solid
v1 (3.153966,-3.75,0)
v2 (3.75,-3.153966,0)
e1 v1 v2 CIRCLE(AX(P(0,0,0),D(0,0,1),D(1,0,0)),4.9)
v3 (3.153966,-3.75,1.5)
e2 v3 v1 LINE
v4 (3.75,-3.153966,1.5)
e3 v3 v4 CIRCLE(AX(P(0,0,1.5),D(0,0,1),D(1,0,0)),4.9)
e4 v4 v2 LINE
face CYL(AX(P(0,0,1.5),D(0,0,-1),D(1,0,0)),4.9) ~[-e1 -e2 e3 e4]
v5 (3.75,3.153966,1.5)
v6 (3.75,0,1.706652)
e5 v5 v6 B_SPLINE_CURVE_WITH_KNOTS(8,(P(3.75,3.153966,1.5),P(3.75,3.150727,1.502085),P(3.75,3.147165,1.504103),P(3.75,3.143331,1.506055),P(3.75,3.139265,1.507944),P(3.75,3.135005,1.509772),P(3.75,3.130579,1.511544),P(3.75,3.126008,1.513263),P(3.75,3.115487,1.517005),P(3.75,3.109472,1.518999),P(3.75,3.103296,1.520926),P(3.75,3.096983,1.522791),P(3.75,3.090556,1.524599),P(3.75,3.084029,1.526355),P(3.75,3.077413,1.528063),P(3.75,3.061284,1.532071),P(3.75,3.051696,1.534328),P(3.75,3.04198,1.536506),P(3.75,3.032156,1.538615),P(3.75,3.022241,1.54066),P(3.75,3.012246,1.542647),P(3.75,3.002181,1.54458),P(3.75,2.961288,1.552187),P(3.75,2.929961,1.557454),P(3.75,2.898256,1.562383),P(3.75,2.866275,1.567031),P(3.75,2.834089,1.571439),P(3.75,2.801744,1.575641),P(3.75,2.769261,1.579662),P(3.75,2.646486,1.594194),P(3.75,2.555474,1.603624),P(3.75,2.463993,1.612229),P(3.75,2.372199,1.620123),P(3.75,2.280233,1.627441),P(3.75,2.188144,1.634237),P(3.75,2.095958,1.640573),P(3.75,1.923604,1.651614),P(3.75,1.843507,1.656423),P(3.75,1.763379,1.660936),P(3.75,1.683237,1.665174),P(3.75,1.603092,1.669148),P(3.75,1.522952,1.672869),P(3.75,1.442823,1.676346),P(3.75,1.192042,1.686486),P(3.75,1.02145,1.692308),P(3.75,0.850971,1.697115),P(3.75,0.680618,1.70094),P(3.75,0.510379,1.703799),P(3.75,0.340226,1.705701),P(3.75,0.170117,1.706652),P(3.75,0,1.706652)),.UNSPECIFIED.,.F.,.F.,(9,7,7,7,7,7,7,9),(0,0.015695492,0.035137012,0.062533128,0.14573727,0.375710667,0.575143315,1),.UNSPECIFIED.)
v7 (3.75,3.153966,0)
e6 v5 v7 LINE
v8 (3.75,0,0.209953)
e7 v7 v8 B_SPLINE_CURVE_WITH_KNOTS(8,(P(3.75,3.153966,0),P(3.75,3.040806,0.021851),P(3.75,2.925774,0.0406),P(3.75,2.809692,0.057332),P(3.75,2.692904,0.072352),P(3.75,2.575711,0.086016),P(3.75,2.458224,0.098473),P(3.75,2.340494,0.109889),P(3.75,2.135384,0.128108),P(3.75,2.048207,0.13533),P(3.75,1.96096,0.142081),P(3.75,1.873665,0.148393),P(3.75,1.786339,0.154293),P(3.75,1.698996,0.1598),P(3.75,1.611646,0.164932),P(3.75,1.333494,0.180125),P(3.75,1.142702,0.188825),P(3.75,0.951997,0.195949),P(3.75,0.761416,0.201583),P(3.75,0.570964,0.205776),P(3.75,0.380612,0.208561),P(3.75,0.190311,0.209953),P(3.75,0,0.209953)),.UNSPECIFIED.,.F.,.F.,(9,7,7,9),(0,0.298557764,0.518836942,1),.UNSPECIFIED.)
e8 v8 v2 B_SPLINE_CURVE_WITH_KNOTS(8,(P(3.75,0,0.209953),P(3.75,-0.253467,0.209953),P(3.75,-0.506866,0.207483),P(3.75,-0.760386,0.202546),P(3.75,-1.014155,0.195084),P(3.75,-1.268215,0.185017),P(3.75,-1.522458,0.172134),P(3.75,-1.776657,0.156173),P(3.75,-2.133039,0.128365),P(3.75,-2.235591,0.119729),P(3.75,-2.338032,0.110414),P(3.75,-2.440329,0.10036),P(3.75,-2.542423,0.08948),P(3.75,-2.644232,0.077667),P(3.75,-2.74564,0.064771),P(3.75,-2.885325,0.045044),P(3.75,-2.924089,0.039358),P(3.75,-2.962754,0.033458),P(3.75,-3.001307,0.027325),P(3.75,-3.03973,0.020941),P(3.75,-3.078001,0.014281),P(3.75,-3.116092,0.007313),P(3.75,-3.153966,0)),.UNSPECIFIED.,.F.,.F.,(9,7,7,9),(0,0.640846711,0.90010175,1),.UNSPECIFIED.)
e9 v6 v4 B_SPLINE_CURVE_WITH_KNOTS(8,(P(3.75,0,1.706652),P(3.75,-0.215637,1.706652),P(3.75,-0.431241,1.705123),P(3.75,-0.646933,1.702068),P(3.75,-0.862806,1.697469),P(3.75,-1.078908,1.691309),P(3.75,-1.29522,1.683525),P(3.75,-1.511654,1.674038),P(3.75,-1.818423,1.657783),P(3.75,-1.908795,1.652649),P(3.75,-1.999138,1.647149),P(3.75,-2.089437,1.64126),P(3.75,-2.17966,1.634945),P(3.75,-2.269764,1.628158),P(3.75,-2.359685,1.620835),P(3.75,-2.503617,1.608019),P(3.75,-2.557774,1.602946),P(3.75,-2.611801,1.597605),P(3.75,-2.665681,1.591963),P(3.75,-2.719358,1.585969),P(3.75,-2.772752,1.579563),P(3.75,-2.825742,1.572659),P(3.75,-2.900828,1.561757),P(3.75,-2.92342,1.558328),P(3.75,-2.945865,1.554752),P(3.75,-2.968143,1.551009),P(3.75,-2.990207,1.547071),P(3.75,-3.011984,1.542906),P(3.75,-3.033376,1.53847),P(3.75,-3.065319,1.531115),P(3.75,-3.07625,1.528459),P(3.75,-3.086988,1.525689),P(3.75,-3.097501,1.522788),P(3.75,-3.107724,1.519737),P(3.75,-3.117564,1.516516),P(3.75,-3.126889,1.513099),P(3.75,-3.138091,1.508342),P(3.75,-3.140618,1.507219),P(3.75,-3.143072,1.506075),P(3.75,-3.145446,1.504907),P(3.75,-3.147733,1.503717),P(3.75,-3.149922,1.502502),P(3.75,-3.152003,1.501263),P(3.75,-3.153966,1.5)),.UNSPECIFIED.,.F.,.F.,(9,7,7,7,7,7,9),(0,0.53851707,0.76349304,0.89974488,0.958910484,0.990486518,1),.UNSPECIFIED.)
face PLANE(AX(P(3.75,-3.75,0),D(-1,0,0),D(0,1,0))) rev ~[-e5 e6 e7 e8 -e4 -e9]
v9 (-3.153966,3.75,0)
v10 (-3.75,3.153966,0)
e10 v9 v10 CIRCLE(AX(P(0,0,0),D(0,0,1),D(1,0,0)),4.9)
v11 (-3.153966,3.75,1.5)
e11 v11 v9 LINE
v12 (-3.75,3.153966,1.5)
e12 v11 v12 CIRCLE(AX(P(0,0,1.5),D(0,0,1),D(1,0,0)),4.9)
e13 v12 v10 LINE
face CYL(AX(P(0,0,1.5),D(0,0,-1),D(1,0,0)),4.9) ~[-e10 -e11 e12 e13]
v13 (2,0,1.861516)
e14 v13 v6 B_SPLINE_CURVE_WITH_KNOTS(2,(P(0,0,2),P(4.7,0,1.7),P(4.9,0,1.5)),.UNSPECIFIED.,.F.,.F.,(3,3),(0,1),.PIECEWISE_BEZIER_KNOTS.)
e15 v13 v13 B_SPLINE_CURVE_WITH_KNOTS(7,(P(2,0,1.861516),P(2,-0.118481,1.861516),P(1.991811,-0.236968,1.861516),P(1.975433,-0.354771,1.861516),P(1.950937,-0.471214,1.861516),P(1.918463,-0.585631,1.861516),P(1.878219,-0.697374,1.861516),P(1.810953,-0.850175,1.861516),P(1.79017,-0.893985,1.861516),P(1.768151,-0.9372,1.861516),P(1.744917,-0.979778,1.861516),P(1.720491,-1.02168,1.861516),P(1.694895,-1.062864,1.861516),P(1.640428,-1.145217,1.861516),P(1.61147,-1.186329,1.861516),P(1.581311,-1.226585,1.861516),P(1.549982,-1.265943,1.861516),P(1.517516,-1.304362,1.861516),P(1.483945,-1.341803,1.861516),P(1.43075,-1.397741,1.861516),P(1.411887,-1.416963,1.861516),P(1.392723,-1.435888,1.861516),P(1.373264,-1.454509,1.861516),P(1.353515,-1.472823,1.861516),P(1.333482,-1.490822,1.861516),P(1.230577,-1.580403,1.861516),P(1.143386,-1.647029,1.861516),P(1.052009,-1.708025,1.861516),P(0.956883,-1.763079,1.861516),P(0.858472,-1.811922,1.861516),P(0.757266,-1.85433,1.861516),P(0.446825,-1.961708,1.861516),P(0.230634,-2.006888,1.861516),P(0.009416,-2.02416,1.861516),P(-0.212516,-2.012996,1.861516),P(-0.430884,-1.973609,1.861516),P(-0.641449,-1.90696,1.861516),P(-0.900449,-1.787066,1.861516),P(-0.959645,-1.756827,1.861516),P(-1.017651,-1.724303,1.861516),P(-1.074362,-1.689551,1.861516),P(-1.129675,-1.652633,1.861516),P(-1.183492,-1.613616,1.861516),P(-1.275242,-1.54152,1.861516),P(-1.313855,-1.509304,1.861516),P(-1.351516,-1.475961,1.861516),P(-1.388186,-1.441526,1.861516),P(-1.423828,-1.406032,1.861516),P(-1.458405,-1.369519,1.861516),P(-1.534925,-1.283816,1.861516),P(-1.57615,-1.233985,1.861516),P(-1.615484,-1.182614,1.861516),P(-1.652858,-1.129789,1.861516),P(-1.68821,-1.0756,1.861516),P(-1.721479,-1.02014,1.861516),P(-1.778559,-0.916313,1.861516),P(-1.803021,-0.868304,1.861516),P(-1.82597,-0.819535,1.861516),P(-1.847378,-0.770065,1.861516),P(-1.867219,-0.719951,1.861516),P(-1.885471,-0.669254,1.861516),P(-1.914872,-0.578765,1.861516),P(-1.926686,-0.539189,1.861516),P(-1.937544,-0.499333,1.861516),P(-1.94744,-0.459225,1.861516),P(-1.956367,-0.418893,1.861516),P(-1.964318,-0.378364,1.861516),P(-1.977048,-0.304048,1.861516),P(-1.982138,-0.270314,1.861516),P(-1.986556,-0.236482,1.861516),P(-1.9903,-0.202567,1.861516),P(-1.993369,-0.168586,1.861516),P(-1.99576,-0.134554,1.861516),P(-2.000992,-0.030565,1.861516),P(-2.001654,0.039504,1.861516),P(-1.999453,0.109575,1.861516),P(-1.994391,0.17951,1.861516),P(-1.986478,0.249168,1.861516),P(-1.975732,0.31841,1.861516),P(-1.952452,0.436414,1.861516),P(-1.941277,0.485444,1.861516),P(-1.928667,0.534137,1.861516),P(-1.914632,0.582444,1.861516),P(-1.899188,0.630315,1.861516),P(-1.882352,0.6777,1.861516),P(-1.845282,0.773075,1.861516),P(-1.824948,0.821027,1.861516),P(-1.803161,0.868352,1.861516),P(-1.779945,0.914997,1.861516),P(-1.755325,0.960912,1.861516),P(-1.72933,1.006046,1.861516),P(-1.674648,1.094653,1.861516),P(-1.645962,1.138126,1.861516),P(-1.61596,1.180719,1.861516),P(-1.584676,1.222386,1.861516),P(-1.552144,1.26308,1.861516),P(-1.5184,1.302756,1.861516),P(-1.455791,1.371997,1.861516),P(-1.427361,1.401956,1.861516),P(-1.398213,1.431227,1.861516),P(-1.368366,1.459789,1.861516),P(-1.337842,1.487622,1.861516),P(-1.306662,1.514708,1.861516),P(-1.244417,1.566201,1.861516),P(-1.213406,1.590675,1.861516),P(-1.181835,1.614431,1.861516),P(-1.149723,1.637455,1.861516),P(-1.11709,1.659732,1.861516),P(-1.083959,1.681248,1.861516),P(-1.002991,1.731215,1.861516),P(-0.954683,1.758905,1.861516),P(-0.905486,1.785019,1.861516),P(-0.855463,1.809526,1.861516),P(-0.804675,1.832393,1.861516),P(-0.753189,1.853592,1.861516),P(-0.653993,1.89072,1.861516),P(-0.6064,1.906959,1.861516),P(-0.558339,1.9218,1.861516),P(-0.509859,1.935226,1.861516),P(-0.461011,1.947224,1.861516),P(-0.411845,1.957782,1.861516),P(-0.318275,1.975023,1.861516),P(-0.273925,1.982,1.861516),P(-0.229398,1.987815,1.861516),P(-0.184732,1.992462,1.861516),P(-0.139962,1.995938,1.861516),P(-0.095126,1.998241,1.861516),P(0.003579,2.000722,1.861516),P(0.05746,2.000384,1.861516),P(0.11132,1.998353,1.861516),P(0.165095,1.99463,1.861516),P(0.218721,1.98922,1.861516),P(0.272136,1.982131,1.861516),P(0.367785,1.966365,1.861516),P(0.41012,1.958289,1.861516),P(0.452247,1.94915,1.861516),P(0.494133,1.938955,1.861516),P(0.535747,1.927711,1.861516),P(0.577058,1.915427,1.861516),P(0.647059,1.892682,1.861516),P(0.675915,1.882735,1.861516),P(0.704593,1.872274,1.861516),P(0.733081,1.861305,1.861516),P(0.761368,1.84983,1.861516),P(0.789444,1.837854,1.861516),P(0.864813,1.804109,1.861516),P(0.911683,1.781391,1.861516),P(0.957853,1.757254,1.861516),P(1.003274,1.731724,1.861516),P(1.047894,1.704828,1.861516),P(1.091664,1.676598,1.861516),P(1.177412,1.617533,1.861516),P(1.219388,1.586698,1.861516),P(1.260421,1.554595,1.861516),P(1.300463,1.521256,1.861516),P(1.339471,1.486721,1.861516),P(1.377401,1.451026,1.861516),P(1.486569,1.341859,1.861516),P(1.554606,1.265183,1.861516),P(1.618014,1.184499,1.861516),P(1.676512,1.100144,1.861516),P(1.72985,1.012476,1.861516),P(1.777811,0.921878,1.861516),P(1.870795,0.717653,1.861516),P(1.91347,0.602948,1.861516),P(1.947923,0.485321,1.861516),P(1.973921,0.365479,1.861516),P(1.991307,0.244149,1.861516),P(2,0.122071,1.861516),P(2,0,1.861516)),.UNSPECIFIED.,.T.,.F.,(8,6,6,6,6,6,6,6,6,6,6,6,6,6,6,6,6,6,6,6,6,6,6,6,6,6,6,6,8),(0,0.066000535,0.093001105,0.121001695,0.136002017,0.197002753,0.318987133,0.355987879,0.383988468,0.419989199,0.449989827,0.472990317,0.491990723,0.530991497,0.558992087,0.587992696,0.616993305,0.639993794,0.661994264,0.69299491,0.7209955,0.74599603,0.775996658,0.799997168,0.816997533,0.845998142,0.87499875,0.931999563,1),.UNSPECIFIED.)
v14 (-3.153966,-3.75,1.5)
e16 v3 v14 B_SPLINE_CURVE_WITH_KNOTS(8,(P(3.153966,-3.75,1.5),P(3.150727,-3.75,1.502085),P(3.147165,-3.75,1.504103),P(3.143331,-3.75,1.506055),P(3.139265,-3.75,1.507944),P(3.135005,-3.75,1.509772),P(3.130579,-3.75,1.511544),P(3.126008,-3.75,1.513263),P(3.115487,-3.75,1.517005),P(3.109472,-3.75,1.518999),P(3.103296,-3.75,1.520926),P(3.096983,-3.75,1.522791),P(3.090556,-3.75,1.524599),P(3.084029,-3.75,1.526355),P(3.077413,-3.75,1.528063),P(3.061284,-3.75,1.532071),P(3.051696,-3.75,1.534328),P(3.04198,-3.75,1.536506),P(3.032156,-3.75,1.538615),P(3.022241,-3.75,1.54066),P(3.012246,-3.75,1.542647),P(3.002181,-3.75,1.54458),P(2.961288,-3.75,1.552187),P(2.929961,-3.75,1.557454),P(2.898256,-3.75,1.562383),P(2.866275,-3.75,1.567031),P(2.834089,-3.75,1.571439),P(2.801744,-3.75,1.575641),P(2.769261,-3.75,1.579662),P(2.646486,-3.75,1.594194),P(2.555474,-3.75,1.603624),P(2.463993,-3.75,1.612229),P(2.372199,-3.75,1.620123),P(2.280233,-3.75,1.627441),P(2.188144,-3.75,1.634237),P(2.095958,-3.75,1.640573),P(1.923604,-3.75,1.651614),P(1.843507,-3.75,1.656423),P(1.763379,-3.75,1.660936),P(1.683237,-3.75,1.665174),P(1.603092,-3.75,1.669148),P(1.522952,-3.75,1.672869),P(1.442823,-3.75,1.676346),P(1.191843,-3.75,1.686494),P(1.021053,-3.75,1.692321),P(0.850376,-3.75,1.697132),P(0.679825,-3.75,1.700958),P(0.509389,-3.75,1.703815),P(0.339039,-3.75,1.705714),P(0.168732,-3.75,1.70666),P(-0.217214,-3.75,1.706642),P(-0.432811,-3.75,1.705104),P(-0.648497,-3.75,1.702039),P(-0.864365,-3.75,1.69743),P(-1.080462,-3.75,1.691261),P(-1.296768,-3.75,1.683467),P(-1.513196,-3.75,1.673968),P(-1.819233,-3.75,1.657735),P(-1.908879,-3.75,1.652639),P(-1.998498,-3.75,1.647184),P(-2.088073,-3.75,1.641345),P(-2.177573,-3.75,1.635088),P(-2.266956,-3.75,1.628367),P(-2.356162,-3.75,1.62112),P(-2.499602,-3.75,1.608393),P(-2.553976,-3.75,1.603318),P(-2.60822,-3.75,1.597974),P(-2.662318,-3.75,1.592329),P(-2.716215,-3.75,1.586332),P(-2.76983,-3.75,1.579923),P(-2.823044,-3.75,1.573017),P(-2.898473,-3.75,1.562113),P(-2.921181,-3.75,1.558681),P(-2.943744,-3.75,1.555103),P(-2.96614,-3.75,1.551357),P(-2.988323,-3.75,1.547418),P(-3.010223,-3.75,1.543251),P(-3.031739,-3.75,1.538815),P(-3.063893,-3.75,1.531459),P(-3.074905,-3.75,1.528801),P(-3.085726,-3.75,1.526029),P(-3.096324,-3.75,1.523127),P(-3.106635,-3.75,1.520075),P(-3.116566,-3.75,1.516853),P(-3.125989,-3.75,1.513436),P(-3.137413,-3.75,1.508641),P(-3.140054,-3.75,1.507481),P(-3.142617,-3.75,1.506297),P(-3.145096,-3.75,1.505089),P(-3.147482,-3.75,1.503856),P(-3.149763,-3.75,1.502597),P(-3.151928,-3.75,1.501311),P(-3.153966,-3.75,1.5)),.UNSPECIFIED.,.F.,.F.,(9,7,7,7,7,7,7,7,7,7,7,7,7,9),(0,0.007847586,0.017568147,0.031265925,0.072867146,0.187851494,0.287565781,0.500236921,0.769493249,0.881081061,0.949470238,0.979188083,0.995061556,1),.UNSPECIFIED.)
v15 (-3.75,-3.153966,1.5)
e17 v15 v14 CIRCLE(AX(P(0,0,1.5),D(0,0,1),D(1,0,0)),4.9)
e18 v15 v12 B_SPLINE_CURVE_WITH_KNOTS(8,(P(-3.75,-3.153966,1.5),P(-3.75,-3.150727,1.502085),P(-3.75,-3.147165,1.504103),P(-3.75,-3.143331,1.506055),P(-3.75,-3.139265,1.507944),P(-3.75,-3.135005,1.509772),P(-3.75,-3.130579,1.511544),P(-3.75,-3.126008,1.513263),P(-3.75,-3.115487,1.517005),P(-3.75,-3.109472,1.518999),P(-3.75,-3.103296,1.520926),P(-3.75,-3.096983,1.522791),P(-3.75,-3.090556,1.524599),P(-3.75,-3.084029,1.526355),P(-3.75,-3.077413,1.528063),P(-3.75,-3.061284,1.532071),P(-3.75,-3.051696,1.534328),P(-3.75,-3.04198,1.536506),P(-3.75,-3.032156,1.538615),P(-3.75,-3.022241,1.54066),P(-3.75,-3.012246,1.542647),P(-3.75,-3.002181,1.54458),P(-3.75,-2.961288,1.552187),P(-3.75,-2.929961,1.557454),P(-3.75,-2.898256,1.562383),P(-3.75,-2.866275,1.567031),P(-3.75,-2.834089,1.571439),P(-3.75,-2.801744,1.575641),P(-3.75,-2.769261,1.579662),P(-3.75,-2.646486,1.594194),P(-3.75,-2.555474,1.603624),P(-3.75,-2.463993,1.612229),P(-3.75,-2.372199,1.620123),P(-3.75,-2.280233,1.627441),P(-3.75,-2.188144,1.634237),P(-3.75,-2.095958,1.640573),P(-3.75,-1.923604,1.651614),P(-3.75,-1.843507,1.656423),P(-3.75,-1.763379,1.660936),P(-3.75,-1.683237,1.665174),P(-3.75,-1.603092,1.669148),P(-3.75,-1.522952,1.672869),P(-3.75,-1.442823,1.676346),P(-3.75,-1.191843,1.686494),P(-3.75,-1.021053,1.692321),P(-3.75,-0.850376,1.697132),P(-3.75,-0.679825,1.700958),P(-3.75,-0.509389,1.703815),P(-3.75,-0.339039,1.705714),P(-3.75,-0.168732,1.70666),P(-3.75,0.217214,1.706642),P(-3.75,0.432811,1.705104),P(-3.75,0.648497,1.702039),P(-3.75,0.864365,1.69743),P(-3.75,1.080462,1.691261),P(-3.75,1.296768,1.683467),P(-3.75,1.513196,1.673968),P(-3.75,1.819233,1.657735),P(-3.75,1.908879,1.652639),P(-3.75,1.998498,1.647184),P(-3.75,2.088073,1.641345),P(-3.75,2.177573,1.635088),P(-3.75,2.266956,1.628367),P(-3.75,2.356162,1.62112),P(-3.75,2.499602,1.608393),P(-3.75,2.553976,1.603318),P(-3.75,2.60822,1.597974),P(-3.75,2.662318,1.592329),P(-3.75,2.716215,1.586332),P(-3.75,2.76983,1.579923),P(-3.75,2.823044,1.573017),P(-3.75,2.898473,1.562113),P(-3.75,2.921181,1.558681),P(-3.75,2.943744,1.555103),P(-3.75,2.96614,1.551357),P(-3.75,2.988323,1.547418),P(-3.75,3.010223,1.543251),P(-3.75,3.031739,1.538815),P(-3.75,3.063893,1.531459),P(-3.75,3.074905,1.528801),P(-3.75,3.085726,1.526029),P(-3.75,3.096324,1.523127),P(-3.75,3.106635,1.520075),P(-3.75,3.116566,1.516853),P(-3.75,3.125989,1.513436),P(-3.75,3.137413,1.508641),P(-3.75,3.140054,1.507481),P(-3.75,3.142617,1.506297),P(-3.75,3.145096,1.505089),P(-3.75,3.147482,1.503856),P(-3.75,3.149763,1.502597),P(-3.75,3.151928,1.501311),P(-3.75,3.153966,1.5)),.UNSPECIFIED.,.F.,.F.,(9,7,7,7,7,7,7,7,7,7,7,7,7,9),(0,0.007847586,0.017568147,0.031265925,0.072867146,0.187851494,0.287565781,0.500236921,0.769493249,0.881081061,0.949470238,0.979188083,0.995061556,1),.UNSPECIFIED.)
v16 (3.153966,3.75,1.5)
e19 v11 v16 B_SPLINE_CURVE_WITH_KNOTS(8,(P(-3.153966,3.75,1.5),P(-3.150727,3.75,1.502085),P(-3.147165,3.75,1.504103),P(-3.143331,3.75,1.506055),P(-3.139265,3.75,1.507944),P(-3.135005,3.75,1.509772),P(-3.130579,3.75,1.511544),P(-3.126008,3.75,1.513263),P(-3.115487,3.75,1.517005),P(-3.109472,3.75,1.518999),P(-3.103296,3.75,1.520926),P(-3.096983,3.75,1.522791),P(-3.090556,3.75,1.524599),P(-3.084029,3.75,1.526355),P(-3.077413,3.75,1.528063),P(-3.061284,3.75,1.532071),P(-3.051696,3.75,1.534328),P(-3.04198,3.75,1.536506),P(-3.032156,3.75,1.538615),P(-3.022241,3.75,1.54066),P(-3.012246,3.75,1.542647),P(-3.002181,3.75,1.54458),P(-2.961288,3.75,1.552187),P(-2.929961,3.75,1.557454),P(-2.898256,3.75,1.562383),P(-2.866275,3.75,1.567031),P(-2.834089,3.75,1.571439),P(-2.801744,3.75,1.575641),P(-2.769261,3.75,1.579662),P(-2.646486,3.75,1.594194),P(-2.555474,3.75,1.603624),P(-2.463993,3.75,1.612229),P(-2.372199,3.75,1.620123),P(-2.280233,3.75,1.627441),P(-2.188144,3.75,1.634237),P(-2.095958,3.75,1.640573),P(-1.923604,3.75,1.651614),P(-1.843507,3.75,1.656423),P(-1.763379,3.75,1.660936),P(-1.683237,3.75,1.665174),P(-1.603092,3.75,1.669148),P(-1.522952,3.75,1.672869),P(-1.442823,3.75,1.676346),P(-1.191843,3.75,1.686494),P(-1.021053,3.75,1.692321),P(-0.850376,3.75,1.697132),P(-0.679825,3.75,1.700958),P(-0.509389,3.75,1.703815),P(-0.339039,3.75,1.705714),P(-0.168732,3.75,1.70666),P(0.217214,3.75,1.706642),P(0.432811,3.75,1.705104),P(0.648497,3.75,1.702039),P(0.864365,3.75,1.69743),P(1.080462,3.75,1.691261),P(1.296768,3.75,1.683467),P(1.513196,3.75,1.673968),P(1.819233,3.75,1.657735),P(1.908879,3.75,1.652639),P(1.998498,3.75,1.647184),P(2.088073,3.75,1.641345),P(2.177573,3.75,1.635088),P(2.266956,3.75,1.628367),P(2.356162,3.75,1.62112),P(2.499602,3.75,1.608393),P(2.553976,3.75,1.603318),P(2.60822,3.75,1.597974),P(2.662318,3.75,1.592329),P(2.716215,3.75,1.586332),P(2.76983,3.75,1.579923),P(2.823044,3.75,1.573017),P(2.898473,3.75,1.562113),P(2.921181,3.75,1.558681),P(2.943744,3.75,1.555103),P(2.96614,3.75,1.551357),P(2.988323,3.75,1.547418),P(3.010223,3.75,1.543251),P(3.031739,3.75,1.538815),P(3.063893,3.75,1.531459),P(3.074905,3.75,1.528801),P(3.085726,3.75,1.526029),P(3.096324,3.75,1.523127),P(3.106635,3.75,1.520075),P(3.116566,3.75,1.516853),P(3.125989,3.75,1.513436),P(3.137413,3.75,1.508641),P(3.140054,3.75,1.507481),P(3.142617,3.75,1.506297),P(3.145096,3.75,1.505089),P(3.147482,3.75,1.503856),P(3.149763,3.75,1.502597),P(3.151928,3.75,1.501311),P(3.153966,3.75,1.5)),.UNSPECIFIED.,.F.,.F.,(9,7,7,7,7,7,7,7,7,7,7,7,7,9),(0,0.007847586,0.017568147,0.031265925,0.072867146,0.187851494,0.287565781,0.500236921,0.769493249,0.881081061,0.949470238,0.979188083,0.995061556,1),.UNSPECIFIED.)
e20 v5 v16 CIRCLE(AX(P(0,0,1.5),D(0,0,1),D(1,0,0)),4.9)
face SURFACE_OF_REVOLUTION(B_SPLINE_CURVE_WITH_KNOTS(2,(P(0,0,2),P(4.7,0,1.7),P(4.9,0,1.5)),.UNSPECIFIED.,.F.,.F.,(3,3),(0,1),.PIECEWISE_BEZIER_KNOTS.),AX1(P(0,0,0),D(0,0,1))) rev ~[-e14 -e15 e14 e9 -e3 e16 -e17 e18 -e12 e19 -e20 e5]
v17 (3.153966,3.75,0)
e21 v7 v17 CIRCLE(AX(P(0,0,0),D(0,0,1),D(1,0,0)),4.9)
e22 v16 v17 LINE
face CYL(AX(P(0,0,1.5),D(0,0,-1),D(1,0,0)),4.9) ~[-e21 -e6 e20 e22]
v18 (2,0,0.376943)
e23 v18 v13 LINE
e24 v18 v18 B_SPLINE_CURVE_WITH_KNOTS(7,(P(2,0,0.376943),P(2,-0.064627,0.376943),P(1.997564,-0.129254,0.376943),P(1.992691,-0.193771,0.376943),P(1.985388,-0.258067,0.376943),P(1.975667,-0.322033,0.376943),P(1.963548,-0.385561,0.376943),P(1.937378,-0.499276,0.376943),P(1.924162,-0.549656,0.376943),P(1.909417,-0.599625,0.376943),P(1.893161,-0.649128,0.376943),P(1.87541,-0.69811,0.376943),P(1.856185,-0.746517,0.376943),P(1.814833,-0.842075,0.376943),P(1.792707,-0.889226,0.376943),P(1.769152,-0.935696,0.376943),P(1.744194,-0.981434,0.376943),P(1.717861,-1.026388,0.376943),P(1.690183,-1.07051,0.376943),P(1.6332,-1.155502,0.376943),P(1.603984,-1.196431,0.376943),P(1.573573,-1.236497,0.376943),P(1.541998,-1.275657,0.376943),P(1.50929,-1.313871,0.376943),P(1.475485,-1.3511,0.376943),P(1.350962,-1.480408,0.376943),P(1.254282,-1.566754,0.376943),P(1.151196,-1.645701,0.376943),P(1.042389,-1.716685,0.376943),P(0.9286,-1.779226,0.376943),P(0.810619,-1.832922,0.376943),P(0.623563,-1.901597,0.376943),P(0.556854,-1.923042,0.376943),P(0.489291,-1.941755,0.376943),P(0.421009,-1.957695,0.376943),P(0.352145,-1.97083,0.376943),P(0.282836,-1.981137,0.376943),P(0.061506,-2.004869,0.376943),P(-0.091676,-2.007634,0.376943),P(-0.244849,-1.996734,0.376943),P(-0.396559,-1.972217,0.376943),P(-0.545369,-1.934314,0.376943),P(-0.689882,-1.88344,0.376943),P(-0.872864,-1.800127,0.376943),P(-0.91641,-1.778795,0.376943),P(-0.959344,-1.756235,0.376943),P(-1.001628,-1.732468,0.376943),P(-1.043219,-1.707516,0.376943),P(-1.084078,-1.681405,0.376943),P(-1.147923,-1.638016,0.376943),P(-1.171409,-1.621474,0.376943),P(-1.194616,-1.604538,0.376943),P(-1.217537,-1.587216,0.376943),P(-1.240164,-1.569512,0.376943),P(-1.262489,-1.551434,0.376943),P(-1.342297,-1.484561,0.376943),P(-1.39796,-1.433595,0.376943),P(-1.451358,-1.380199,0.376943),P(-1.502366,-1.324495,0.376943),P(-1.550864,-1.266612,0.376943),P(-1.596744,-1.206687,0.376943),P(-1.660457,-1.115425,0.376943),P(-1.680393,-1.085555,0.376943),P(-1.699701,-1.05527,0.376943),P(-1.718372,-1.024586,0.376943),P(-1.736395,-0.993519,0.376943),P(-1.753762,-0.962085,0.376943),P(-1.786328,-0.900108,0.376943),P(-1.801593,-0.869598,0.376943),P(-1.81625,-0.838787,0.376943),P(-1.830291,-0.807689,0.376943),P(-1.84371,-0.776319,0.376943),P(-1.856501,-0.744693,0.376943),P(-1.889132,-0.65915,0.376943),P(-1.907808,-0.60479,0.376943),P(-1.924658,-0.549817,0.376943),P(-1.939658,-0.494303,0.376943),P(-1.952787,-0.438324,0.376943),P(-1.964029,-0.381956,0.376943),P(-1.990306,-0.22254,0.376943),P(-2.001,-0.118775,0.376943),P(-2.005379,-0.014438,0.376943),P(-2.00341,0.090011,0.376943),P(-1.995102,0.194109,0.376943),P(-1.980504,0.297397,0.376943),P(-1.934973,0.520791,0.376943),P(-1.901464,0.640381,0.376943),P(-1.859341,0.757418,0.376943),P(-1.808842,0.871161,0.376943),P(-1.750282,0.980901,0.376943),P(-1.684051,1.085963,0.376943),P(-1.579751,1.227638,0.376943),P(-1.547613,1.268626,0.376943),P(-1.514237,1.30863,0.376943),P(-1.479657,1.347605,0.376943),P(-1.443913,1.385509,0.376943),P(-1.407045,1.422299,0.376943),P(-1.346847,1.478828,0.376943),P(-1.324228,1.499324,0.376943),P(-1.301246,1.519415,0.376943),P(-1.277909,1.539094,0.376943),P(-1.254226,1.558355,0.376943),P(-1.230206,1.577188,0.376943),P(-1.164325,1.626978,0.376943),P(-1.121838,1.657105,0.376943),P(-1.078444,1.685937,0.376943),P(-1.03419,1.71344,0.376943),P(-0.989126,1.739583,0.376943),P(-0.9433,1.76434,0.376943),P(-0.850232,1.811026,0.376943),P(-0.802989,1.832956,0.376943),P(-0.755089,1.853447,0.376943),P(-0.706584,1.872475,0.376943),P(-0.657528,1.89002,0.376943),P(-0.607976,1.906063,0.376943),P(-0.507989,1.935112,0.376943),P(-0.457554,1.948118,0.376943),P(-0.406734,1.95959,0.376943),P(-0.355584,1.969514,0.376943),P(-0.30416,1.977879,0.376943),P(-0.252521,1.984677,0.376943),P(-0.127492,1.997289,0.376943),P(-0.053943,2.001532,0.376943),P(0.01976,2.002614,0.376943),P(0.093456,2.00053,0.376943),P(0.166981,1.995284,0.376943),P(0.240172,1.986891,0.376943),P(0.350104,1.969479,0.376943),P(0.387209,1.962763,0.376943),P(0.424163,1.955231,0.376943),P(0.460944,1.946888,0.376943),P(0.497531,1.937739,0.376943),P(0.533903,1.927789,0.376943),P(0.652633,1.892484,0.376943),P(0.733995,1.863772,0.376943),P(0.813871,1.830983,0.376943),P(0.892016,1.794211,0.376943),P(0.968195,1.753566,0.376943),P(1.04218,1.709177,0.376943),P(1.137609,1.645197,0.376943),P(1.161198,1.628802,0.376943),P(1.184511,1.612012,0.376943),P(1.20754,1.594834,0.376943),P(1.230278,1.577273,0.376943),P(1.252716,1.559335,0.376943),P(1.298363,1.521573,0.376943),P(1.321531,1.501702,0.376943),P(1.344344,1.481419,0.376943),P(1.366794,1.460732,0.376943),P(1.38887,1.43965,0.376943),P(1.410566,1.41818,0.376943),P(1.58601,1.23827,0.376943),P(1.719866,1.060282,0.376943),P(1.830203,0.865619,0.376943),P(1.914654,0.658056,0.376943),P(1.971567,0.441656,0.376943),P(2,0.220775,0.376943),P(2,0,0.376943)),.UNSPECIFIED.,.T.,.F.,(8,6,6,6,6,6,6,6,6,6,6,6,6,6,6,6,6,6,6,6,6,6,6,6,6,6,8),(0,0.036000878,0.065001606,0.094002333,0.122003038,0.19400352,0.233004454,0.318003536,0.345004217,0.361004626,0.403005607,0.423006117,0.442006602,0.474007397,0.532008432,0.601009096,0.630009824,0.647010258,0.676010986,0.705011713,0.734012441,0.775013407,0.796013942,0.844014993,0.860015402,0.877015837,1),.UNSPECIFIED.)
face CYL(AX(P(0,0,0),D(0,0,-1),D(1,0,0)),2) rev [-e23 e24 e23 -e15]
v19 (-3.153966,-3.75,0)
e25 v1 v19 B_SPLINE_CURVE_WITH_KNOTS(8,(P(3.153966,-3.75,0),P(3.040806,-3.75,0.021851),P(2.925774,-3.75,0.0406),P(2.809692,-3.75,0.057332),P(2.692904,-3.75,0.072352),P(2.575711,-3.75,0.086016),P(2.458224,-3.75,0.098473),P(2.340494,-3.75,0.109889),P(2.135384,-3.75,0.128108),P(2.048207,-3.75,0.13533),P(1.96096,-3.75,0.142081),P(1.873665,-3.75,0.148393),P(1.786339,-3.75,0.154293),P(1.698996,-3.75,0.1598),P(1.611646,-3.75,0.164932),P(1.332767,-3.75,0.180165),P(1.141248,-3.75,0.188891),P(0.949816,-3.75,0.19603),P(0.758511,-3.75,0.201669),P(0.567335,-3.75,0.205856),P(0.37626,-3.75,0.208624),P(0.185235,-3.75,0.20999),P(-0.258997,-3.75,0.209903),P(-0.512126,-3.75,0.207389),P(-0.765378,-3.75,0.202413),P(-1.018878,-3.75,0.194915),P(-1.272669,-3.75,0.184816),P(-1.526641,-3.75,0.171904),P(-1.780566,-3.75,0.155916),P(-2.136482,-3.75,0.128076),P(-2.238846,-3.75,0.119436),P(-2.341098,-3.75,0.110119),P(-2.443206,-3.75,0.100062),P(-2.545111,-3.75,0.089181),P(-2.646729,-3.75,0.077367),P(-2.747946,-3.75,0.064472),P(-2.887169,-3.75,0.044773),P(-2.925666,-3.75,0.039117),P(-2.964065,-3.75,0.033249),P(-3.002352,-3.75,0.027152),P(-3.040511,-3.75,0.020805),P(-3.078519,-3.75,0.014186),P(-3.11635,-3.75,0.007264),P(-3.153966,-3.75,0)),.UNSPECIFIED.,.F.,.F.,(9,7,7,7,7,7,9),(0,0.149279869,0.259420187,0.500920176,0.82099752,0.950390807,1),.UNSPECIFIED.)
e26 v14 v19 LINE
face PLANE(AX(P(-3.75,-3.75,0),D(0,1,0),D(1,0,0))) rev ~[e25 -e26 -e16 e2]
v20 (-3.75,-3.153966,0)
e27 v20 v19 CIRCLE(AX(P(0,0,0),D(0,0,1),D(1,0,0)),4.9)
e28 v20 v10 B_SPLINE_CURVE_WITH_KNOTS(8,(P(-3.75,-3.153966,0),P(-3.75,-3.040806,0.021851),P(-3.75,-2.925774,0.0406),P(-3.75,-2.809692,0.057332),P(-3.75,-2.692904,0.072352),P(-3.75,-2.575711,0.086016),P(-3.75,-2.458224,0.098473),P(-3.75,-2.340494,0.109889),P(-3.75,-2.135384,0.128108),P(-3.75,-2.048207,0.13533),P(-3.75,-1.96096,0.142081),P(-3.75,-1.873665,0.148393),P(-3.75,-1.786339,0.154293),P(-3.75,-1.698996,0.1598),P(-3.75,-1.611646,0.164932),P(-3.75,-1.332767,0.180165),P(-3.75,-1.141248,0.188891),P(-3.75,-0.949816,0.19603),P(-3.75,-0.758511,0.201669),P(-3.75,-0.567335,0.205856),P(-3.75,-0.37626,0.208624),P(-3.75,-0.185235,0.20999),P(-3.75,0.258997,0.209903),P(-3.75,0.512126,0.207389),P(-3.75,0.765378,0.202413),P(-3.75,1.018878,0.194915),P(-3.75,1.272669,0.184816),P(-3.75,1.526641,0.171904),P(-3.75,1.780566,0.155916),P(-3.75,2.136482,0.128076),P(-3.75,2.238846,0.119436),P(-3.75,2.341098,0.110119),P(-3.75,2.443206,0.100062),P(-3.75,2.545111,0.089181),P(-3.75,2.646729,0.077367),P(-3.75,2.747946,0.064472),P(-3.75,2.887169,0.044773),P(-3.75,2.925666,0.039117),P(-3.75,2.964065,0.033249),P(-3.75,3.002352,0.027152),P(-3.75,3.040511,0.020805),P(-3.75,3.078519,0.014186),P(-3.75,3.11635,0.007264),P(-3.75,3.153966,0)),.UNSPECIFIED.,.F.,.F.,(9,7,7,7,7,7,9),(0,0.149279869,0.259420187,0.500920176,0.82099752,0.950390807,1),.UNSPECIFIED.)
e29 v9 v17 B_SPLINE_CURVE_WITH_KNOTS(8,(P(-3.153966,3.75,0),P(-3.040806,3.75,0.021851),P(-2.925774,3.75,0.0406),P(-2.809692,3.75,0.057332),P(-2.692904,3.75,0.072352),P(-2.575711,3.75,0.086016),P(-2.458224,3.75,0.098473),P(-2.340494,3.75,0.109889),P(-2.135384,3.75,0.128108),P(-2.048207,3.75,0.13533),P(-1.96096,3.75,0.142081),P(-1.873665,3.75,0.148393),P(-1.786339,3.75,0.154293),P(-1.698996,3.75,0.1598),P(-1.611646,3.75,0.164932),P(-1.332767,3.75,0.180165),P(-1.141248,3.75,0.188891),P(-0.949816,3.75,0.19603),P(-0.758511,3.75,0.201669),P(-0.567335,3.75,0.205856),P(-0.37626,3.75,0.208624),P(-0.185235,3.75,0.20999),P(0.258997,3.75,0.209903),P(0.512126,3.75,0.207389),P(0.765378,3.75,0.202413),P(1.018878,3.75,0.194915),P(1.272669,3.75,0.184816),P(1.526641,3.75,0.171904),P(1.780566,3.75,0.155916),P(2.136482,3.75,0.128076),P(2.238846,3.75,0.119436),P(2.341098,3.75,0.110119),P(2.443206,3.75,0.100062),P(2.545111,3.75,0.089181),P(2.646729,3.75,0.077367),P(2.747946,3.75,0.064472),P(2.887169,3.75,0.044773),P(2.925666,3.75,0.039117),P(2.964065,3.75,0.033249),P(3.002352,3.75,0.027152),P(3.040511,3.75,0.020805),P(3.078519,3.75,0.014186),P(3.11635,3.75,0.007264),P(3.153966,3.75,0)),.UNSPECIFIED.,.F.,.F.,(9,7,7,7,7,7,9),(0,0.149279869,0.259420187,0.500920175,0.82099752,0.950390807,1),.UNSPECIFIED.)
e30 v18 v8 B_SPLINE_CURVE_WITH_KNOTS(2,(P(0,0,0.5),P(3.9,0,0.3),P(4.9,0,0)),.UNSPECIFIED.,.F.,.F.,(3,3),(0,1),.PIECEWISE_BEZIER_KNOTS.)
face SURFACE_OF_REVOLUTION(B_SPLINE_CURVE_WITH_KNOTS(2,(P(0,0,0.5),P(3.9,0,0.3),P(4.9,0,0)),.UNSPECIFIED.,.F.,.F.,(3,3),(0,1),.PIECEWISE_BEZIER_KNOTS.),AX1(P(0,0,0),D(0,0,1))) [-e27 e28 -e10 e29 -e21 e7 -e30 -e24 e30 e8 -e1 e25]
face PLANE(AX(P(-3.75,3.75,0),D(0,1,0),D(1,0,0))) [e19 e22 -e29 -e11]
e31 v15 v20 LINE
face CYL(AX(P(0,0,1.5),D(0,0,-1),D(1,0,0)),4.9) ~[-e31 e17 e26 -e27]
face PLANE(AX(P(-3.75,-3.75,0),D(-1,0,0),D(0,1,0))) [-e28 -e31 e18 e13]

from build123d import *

# Parameters (mm, degrees)
SKETCH001_W     = 10
SKETCH001_H     = 10
SKETCH001_W_2   = 7.5
SKETCH001_H_2   = 7.5
POCKET_DEPTH    = 5
SKETCH002_R     = 2
POCKET001_DEPTH = 5


with BuildPart() as part:
    # Sketch → Revolution (revolve)
    with BuildSketch(Plane.XZ):
        with BuildLine():
            add(Edge.make_bspline(
                [(0, 2), (4.7, 1.7), (4.9, 1.5)],
                knots=[0, 0, 0, 1, 1, 1], degree=2))
            Line((4.9, 1.5), (4.9, 0))
            add(Edge.make_bspline(
                [(0, 0.5), (3.9, 0.3), (4.9, 0)],
                knots=[0, 0, 0, 1, 1, 1], degree=2))
            Line((0, 0.5), (0, 2))
        make_face()
    revolve(axis=Axis((0, 0, 0), (0, 0, 1)))

    # Sketch001 → Pocket (cut)
    with BuildSketch(Plane.XY):
        Rectangle(SKETCH001_W, SKETCH001_H)
        Rectangle(SKETCH001_W_2, SKETCH001_H_2, mode=Mode.SUBTRACT)
    extrude(amount=POCKET_DEPTH, mode=Mode.SUBTRACT)

    # Sketch002 → Pocket001 (cut)
    with BuildSketch(Plane.XY):
        Circle(SKETCH002_R)
    extrude(amount=POCKET001_DEPTH, mode=Mode.SUBTRACT)


solid = part.part
